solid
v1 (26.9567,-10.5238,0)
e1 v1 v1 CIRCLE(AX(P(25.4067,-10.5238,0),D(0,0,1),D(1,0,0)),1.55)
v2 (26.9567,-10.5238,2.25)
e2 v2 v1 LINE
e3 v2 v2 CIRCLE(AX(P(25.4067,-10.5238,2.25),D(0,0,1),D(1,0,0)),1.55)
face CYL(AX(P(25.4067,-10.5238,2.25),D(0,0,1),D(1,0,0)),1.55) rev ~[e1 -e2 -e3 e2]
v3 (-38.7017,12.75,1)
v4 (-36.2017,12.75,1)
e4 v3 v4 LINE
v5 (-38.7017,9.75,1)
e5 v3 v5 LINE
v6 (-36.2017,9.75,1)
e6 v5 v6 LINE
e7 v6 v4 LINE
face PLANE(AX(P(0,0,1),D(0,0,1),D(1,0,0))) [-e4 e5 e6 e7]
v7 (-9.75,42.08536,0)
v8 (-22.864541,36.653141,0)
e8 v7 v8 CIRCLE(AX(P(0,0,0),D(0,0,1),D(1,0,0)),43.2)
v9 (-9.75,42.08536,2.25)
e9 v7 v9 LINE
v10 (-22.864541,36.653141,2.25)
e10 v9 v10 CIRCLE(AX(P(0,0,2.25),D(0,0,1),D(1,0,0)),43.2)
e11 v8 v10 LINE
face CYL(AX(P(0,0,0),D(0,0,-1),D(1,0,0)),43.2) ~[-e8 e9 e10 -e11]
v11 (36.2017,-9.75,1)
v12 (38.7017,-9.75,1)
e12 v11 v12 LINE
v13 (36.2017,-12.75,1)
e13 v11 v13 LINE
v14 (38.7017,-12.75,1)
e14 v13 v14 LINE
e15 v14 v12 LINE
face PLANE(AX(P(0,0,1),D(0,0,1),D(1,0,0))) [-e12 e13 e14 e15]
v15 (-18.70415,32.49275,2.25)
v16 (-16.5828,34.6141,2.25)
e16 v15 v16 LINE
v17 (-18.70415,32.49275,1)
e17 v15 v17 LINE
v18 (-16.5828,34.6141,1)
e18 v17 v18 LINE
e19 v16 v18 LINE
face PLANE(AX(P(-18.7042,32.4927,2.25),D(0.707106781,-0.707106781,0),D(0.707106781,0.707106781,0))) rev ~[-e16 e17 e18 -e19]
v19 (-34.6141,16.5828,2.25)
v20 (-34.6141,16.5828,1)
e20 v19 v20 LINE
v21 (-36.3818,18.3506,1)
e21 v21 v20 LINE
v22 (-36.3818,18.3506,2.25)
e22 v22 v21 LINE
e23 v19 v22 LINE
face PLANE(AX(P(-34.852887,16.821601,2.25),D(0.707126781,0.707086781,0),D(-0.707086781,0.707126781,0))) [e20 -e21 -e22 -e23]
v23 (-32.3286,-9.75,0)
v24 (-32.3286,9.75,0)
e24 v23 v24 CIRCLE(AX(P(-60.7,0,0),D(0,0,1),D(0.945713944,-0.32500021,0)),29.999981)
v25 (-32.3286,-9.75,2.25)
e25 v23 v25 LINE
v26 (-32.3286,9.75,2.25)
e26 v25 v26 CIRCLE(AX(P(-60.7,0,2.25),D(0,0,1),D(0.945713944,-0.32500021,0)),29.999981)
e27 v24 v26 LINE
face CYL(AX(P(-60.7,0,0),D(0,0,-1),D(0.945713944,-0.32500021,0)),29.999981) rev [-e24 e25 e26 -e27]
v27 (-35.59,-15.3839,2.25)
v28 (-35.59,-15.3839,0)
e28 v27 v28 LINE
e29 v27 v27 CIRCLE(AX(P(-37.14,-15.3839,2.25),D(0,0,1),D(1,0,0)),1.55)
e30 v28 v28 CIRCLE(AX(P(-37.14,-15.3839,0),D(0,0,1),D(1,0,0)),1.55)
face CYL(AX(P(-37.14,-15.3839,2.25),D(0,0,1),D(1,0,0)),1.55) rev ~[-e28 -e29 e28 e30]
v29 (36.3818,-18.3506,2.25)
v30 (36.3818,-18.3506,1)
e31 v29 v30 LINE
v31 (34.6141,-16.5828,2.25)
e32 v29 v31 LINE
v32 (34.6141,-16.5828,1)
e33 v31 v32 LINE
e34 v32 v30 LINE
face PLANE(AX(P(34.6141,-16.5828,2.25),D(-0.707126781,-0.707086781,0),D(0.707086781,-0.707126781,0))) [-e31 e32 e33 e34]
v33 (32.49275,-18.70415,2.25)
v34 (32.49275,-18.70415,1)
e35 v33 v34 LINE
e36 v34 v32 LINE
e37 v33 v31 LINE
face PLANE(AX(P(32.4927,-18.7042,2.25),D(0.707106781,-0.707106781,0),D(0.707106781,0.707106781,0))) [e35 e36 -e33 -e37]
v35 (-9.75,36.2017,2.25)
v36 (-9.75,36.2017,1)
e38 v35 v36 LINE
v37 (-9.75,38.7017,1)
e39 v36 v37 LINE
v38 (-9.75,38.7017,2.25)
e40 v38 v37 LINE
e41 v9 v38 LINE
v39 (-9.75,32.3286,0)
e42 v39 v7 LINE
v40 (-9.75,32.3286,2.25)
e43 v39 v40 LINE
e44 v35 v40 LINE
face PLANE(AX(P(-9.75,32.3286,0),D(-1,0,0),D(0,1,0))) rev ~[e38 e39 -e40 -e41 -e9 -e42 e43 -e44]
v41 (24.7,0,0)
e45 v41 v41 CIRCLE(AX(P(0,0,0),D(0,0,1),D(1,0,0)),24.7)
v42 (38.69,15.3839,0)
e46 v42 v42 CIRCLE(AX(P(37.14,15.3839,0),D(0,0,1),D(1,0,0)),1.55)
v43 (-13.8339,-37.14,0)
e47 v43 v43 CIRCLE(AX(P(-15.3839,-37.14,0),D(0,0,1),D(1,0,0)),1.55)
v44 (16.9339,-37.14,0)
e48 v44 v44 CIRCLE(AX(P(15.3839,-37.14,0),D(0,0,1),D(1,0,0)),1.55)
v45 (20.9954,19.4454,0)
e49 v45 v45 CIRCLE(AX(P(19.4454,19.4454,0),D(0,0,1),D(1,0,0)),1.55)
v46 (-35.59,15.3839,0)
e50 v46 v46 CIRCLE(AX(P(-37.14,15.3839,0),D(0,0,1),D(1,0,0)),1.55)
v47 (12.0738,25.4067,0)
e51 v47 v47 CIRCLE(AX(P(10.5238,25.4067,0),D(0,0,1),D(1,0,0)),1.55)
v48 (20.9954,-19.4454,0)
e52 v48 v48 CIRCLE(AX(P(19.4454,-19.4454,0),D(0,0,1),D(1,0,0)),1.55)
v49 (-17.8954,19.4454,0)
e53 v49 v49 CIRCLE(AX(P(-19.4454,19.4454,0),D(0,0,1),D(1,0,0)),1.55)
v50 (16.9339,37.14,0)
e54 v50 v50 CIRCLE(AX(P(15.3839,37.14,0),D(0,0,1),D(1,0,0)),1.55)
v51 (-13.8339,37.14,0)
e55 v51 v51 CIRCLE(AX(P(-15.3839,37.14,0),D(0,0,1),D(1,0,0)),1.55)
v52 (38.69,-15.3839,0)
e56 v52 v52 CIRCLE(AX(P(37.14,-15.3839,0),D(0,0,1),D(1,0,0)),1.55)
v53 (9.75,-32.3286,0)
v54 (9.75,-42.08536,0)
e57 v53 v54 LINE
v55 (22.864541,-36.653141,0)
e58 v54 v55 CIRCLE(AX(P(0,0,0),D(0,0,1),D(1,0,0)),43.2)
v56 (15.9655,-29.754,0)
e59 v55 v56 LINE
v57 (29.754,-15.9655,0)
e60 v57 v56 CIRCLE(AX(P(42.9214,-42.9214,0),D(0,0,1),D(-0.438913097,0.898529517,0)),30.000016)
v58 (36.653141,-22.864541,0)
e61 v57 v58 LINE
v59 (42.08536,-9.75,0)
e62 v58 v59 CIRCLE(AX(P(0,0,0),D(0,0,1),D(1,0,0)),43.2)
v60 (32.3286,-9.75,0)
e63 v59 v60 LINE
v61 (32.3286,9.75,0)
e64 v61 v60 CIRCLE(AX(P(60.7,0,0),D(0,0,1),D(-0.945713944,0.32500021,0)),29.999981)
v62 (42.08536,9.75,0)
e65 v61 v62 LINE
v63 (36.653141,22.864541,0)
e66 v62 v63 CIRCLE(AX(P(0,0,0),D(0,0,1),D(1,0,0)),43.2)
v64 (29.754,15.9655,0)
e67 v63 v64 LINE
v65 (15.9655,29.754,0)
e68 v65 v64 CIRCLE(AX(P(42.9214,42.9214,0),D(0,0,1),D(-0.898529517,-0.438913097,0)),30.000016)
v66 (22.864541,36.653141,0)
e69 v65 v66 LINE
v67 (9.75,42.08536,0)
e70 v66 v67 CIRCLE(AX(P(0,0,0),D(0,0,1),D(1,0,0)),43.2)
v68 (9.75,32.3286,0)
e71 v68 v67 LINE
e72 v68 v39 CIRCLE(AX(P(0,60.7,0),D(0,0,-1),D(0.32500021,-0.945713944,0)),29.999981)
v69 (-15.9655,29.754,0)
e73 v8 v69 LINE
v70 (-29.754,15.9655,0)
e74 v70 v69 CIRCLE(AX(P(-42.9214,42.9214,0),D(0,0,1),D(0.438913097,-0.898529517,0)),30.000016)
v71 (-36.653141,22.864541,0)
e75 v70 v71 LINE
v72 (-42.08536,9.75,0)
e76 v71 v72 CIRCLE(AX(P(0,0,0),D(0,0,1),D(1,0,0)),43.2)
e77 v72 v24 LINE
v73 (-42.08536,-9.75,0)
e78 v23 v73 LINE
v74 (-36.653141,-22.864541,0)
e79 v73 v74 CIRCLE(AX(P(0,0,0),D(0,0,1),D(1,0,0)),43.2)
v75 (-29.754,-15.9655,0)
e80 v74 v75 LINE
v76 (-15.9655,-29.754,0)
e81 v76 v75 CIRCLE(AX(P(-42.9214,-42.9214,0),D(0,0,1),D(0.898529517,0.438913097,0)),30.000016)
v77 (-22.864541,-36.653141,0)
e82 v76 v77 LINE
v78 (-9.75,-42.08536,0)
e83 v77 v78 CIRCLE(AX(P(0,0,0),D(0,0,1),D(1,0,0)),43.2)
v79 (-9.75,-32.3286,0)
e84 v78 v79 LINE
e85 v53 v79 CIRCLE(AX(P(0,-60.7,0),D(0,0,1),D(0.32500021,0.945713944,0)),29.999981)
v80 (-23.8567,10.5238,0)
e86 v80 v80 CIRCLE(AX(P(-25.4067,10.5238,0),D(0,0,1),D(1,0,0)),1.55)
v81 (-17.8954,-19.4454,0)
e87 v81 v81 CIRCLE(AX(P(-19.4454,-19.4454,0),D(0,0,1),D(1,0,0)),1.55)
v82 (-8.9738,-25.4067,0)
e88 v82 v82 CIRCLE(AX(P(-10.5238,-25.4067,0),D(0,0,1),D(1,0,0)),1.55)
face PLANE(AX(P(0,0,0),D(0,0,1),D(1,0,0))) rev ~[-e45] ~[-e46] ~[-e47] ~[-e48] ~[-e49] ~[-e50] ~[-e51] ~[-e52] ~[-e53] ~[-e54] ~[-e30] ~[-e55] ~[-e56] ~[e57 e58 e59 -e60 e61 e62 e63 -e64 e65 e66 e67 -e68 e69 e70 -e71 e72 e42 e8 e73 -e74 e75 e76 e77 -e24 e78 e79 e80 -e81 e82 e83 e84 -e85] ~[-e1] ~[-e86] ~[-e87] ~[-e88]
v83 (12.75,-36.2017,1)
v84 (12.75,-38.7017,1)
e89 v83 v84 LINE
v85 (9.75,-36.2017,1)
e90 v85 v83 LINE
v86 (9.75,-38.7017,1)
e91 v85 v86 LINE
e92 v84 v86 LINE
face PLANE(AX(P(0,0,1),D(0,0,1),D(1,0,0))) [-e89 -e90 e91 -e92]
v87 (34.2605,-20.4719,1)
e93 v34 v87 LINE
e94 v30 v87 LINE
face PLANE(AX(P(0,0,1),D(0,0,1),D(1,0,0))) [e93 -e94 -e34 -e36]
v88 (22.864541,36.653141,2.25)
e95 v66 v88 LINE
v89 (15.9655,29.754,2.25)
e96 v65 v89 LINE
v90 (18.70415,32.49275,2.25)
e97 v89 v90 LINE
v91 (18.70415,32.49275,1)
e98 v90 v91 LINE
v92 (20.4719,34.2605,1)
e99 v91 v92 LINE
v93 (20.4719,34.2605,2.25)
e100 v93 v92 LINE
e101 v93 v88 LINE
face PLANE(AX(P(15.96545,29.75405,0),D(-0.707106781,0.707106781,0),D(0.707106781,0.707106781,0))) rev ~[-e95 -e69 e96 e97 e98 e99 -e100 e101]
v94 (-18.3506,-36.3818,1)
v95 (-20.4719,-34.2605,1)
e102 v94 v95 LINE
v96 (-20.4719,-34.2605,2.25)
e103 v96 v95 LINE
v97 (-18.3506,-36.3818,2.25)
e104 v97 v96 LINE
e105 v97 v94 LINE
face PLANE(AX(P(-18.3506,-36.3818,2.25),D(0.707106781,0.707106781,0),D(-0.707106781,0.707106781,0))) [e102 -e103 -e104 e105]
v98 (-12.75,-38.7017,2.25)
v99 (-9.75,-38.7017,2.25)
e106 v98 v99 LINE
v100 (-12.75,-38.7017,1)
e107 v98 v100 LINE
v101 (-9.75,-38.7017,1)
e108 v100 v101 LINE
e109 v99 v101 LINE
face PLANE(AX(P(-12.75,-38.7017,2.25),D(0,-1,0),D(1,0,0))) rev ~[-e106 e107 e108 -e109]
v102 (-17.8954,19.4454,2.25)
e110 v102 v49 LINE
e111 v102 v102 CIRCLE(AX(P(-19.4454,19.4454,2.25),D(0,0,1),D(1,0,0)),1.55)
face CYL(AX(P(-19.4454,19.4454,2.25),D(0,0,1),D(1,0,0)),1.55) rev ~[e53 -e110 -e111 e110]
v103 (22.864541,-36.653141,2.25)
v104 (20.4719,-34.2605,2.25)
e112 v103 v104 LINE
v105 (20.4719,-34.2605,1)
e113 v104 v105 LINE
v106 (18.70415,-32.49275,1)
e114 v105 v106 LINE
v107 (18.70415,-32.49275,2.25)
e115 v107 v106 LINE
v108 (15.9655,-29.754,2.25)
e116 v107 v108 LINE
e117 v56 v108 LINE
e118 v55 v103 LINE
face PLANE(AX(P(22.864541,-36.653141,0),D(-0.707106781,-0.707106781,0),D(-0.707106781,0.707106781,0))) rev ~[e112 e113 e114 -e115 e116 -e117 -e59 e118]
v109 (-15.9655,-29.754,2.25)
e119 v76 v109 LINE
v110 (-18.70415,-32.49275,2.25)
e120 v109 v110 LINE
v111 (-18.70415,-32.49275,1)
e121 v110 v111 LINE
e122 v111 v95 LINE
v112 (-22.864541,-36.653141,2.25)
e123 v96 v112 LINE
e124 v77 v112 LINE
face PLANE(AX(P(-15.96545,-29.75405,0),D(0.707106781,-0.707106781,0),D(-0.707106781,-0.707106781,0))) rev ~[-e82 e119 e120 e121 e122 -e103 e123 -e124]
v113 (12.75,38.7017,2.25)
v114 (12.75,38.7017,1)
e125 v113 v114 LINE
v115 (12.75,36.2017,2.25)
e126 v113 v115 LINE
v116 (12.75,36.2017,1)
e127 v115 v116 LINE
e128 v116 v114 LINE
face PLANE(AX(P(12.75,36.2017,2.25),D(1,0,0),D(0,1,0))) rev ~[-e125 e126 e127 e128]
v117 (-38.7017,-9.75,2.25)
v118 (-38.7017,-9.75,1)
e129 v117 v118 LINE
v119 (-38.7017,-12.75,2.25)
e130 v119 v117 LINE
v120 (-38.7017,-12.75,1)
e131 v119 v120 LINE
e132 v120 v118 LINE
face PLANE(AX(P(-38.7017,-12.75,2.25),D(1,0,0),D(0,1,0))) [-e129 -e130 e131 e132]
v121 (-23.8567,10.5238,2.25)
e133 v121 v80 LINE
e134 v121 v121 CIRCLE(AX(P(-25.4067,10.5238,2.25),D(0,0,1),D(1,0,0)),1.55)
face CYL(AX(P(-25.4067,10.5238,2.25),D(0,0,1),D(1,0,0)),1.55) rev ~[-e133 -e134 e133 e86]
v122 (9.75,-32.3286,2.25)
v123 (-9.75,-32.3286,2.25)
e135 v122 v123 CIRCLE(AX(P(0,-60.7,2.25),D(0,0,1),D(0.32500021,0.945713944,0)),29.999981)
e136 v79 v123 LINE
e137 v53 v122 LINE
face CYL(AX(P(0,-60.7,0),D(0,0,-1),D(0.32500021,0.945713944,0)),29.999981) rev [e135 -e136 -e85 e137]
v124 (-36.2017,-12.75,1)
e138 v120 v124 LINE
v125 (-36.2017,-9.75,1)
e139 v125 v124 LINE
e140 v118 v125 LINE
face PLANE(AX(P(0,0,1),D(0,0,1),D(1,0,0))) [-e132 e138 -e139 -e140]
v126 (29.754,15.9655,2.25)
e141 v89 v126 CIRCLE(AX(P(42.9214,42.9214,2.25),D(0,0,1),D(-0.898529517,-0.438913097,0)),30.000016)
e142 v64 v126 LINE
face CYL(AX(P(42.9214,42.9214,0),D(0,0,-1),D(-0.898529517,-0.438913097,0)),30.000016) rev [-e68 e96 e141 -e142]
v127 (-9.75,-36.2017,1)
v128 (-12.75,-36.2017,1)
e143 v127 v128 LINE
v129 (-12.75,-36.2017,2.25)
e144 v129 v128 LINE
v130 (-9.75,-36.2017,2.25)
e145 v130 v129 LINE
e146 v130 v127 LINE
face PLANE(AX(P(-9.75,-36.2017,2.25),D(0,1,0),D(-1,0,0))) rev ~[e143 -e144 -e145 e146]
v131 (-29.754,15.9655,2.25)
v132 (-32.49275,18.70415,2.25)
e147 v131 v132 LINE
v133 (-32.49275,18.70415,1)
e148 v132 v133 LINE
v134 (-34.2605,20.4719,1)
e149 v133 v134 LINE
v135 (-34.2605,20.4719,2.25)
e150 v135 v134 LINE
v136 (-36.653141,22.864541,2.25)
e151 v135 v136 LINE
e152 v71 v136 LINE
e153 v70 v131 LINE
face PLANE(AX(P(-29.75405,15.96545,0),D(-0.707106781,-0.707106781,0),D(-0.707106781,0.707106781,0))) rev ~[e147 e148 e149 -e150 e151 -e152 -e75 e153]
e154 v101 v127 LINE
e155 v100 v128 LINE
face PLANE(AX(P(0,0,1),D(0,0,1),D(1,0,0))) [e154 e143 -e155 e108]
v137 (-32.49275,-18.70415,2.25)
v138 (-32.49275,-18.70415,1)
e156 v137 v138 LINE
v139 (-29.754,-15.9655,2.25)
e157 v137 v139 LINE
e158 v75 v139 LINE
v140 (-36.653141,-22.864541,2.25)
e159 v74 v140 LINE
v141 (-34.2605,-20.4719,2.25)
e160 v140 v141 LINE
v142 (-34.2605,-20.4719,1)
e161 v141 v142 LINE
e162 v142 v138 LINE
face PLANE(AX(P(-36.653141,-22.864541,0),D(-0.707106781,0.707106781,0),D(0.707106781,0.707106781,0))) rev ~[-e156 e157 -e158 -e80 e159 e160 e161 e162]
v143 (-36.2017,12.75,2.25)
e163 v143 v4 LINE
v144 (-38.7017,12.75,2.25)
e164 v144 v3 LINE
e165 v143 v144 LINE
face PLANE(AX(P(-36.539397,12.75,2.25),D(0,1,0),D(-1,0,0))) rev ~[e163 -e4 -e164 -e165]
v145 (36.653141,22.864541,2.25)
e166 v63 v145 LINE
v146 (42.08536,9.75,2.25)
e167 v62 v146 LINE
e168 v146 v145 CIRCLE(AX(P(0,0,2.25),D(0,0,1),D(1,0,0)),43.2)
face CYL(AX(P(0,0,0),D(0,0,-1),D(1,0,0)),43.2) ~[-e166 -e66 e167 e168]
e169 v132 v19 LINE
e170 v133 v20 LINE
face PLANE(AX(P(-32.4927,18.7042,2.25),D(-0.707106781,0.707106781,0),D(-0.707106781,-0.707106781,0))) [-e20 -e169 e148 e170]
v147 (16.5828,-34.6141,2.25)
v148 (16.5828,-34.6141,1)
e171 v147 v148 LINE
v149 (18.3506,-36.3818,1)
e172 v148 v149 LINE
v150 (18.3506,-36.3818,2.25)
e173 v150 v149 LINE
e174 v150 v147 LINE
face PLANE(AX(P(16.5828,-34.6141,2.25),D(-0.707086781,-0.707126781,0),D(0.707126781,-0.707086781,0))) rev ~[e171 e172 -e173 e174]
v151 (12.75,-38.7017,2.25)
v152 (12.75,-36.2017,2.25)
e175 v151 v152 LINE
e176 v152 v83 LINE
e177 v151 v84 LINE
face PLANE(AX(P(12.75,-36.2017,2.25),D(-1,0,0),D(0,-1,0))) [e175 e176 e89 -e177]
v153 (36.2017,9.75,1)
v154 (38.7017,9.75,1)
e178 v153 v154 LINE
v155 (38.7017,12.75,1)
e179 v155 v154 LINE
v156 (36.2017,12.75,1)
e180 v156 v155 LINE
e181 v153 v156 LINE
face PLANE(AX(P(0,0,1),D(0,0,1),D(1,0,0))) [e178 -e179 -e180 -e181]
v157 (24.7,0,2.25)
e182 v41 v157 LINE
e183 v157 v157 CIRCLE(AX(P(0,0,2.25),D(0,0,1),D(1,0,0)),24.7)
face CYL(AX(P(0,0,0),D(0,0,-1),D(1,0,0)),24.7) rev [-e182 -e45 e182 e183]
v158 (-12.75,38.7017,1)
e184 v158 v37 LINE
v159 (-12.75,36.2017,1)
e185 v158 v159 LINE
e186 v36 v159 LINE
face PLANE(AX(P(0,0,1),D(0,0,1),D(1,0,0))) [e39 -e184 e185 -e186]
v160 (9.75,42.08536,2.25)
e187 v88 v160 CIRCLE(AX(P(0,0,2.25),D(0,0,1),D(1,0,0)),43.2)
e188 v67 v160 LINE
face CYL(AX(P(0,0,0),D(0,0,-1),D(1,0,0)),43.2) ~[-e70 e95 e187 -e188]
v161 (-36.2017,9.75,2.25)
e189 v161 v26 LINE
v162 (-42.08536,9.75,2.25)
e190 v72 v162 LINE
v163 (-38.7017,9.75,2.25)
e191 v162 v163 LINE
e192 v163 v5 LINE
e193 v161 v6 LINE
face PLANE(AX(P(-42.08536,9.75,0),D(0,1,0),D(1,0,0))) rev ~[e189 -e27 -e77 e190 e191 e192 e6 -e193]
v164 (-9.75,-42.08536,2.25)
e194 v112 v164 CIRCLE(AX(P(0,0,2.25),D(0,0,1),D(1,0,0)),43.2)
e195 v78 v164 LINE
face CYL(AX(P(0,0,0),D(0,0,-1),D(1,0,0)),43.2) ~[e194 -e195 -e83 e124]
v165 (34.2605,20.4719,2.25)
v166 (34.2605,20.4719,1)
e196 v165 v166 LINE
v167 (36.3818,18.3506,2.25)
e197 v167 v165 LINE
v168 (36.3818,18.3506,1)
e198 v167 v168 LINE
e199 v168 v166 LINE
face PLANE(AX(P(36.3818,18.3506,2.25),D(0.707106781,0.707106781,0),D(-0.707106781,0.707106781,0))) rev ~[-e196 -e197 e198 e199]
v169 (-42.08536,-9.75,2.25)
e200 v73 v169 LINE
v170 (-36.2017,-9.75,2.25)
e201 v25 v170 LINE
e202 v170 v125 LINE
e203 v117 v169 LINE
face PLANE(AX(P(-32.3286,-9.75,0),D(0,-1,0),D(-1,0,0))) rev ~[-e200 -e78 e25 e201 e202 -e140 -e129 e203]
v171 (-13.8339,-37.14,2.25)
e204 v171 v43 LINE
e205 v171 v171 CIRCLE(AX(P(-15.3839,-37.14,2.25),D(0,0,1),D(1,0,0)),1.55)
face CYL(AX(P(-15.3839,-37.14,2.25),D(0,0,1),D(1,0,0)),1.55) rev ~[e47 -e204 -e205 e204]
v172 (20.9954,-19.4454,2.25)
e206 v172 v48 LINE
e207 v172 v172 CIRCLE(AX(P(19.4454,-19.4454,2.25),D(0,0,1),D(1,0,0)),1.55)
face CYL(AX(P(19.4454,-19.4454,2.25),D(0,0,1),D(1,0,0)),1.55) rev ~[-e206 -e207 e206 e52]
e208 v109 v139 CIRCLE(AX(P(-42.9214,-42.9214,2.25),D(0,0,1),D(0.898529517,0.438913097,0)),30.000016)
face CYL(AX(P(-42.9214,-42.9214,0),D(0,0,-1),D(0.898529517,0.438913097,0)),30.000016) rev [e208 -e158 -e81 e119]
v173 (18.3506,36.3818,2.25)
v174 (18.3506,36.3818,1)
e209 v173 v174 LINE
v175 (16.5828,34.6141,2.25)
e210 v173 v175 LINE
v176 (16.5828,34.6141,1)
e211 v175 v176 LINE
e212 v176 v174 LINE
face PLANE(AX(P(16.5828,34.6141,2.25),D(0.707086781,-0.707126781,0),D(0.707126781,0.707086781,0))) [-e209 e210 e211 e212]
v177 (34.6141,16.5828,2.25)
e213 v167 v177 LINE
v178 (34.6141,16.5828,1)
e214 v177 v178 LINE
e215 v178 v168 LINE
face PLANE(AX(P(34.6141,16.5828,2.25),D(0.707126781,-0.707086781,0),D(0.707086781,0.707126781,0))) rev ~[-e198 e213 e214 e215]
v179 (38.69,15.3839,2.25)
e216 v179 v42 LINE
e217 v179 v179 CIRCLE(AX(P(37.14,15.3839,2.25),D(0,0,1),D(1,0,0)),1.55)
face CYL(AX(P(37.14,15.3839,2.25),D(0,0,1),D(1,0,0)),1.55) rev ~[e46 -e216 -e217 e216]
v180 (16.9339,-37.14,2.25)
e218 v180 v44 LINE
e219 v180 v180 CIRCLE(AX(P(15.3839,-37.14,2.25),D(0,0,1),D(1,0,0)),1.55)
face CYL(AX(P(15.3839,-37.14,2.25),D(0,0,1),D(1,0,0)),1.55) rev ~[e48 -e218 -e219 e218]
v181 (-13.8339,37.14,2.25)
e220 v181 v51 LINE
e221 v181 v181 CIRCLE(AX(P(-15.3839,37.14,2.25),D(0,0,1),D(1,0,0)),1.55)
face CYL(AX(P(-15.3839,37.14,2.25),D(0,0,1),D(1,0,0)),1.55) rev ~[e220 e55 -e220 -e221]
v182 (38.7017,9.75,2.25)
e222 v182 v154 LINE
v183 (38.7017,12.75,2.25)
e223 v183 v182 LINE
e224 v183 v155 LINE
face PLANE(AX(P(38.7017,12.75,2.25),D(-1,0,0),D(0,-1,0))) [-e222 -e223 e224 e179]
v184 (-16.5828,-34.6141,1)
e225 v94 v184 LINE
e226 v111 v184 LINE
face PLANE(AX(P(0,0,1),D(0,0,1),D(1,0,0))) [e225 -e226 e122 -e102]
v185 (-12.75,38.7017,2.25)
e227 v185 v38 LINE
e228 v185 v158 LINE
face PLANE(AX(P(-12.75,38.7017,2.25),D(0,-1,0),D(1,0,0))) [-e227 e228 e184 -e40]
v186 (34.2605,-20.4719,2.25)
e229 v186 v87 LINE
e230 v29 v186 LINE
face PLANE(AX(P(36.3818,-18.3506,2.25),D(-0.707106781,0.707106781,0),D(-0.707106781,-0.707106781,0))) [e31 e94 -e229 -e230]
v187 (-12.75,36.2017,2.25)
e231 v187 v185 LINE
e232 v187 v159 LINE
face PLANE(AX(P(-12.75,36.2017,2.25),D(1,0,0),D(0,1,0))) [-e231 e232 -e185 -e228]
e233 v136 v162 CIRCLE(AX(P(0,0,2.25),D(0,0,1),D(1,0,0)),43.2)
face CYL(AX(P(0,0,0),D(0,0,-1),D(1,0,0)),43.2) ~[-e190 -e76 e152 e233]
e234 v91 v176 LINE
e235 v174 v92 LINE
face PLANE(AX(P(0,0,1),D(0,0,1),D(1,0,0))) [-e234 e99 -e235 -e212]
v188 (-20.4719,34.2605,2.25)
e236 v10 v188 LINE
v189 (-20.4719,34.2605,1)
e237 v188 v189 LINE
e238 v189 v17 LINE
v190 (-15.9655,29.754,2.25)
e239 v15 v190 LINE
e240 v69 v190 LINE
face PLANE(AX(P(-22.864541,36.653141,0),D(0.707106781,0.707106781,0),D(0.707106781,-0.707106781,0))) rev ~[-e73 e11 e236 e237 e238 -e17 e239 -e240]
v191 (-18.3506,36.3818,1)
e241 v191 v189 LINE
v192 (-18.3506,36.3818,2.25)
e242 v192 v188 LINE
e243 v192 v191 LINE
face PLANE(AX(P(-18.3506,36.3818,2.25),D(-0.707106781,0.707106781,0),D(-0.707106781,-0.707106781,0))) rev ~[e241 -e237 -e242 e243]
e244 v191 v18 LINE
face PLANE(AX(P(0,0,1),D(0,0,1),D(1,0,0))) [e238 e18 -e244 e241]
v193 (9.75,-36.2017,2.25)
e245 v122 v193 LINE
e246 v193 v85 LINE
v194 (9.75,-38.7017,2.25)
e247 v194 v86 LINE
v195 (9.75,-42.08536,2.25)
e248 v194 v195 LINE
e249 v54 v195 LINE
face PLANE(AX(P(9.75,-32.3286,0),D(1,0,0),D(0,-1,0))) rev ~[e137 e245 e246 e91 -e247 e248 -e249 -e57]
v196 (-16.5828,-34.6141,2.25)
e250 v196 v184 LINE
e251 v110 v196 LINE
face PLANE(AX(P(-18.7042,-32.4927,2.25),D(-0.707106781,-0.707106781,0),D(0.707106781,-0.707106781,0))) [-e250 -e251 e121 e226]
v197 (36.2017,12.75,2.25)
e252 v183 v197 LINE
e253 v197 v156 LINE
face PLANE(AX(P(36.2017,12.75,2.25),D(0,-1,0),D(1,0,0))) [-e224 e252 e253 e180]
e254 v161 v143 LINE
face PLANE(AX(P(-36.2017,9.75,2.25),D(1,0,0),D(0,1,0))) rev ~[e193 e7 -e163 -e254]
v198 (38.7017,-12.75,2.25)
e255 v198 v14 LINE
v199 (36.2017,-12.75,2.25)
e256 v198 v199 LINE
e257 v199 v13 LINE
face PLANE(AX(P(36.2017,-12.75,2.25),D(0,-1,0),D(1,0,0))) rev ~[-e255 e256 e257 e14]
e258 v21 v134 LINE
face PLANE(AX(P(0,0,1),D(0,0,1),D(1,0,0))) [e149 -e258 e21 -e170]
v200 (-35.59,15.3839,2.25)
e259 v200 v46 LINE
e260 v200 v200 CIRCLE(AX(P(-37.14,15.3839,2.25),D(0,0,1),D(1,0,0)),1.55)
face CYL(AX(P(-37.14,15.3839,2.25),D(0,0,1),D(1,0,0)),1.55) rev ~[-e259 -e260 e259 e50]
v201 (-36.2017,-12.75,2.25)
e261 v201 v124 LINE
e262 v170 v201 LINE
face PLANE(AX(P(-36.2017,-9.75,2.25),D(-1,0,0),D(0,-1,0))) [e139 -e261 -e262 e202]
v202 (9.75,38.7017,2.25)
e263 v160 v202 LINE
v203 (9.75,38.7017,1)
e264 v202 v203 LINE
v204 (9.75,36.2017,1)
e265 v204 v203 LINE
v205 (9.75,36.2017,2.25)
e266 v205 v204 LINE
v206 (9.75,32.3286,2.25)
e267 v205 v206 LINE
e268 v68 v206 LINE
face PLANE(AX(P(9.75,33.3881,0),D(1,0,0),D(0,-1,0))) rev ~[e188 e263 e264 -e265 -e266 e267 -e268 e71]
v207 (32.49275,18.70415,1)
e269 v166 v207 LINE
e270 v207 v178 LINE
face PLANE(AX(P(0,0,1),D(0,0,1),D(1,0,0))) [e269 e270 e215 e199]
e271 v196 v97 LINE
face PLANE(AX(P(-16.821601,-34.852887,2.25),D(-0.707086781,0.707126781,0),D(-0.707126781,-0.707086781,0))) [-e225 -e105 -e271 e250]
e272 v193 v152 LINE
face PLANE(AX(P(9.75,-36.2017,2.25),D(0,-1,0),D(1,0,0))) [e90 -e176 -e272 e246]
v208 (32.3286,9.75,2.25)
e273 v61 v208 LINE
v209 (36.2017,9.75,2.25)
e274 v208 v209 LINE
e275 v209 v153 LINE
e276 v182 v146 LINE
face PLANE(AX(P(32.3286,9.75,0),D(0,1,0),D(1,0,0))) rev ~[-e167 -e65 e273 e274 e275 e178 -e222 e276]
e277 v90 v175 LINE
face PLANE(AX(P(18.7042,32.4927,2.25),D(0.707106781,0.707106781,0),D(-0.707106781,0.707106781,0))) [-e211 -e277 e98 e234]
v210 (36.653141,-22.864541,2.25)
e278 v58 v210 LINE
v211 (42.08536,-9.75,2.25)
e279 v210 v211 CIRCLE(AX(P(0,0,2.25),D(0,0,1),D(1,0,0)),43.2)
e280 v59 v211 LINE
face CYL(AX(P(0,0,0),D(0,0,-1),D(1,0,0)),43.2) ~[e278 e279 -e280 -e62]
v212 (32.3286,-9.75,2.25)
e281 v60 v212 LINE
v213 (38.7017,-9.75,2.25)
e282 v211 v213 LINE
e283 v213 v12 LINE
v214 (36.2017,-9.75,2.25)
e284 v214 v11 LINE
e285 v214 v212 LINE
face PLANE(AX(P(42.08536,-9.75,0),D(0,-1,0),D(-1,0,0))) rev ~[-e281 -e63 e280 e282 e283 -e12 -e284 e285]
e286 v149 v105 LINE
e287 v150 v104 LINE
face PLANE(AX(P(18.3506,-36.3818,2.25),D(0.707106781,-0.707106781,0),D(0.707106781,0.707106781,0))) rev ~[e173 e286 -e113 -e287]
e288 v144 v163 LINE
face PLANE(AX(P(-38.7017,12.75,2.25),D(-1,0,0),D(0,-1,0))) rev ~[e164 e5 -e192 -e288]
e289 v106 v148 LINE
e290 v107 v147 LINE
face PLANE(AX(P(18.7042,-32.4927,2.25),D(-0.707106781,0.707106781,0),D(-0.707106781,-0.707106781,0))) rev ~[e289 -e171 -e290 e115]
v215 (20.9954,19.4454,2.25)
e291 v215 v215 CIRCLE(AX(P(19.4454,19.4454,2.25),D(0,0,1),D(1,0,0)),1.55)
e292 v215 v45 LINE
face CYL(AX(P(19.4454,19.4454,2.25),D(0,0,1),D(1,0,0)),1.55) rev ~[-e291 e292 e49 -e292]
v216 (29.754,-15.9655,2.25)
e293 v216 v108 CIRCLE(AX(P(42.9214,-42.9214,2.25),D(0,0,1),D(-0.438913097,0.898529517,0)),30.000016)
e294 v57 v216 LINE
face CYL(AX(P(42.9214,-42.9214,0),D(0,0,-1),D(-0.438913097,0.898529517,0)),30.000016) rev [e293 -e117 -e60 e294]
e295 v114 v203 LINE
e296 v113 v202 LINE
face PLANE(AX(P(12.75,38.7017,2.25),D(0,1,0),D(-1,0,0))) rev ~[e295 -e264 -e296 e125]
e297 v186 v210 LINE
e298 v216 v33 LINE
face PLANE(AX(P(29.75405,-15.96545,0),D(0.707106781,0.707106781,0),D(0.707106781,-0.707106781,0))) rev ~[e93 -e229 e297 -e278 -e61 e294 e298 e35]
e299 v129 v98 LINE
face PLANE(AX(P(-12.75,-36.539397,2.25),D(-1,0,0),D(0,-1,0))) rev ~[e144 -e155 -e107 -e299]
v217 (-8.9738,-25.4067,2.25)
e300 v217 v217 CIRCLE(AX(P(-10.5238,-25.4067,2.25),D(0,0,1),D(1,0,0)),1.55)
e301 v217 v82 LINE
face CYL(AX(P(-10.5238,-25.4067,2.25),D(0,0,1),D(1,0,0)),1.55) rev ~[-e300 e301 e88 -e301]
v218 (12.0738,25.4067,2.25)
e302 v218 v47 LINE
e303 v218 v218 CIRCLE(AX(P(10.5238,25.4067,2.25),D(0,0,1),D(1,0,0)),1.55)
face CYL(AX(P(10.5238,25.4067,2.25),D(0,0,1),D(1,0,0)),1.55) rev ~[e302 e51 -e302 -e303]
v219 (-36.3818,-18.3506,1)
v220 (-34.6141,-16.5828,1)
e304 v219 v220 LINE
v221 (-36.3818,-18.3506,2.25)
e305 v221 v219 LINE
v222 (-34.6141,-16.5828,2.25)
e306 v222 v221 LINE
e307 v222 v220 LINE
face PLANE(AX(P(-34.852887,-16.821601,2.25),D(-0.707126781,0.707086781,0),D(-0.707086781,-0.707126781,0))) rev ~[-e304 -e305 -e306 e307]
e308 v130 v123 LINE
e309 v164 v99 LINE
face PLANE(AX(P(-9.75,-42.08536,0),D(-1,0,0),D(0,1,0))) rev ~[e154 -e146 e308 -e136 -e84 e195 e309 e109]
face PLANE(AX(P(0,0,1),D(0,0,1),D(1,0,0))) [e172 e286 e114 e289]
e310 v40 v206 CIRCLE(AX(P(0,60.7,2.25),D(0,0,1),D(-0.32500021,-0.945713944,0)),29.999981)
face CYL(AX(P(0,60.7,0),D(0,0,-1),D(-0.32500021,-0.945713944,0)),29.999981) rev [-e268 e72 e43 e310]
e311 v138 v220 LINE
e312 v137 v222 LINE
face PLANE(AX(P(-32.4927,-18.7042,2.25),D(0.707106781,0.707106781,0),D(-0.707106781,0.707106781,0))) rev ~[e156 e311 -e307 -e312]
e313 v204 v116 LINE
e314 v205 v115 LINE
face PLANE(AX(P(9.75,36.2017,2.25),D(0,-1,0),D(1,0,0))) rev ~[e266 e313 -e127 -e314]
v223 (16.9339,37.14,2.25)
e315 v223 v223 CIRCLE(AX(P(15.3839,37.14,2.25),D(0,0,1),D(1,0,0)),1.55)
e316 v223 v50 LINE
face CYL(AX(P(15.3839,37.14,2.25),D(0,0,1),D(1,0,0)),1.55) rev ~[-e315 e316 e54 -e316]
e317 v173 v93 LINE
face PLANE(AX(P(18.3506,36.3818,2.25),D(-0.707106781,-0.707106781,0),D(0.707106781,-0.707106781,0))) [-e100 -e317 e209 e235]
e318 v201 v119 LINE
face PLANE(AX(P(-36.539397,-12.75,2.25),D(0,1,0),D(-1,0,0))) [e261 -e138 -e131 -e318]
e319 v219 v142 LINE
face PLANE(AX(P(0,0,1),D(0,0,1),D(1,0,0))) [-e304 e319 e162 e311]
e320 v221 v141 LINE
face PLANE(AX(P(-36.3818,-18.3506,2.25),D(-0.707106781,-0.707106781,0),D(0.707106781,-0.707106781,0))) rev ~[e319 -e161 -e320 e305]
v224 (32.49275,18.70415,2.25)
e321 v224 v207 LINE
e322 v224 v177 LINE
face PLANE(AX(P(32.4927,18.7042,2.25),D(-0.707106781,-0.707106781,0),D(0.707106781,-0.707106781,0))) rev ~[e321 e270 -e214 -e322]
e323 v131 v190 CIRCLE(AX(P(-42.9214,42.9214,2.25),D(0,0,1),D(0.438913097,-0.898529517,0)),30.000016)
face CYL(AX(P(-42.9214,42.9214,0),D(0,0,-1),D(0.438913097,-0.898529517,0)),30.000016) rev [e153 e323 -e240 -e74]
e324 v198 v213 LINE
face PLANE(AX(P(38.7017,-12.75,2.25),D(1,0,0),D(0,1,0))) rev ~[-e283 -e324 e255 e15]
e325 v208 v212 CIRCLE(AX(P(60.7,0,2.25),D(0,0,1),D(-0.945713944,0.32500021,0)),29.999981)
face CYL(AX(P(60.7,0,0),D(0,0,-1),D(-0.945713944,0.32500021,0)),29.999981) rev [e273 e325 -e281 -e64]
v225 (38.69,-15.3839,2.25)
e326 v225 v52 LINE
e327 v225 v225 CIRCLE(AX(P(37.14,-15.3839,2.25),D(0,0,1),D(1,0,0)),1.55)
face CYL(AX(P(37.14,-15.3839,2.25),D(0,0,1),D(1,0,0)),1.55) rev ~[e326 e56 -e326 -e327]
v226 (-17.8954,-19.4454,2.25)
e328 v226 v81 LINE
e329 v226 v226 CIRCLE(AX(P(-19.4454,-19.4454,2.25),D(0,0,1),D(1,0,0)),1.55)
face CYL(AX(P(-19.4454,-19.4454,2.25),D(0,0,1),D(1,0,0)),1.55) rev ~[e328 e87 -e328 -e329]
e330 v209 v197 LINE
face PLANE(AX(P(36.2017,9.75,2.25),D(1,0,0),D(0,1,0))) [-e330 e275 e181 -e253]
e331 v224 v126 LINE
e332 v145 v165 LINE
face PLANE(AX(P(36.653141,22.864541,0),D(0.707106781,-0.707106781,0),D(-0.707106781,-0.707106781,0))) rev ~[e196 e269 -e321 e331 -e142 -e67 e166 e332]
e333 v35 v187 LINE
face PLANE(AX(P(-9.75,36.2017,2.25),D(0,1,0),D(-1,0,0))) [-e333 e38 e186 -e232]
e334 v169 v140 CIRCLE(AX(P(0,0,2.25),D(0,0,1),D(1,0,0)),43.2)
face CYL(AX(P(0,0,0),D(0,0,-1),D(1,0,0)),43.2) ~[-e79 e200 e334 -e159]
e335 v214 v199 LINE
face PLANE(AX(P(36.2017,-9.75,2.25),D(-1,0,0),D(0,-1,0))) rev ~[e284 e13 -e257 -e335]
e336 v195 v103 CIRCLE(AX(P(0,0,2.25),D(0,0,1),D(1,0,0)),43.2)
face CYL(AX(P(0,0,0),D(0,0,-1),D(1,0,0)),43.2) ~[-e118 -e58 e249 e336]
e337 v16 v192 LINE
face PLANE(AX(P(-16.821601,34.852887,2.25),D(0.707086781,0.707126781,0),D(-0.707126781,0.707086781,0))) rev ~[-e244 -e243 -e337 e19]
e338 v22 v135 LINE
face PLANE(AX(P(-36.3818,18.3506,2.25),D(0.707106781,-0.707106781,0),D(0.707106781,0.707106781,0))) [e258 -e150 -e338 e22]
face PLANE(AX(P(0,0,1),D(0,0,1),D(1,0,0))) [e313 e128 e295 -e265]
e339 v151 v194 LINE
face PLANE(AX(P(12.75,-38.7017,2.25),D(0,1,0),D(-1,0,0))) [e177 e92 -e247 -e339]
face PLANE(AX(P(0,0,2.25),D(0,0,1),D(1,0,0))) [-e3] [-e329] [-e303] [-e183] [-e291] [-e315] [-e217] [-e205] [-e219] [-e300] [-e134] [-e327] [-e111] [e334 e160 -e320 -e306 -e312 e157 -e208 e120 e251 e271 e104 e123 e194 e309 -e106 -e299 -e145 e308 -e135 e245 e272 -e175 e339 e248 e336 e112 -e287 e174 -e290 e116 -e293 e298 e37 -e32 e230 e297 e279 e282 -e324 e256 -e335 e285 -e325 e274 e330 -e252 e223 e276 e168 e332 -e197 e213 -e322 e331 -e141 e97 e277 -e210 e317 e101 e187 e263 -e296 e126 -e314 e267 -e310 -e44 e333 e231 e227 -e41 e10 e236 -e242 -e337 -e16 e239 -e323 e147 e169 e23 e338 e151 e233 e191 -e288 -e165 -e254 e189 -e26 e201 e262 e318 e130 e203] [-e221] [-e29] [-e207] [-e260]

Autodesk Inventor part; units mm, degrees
ref_plane "YZ Plane" through (0, 0, 0) normal (1, 0, 0) x (0, 1, 0)
ref_plane "XZ Plane" through (0, 0, 0) normal (0, 1, 0) x (-1, 0, 0)
ref_plane "XY Plane" through (0, 0, 0) normal (0, 0, 1) x (1, 0, 0)
sketch "スケッチ1" plane through (0, 0, 0) normal (0, 0, 1) x (1, 0, 0)
  arc A0 (-9.75, 33.3881) -> (9.75, 33.3881) centre (0, 60.7) ccw
  arc A1 (-9.75, 32.3286) -> (9.75, 32.3286) centre (0, 60.7) ccw
  line L0 (-9.75, 57.7) -> (9.75, 57.7)
  line L1 (9.75, 57.7) -> (9.75, 30.7)
  line L2 (9.75, 30.7) -> (-9.75, 30.7)
  line L3 (-9.75, 30.7) -> (-9.75, 57.7)
  line L4 (-9.75, 44.7) -> (9.75, 44.7)
  circle A2 centre (0, 0) radius 23.7 construction
  circle A3 centre (0, 0) radius 24.7
  circle A4 centre (0, 0) radius 30.7 construction
  circle A5 centre (0, 0) radius 44.7
  line L5 (-28.6025, 14.8139) -> (-47.6944, 33.9058)
  arc A6 (-29.754, 15.9655) -> (-15.9655, 29.754) centre (-42.9214, 42.9214) ccw
  line L6 (-33.9058, 47.6944) -> (-14.8139, 28.6025)
  line L7 (-30.7, -9.75) -> (-57.7, -9.75)
  arc A7 (-32.3286, -9.75) -> (-32.3286, 9.75) centre (-60.7, 0) ccw
  line L8 (-57.7, 9.75) -> (-30.7, 9.75)
  line L9 (-14.8139, -28.6025) -> (-33.9058, -47.6944)
  arc A8 (-15.9655, -29.754) -> (-29.754, -15.9655) centre (-42.9214, -42.9214) ccw
  line L10 (-47.6944, -33.9058) -> (-28.6025, -14.8139)
  line L11 (9.75, -30.7) -> (9.75, -57.7)
  arc A9 (9.75, -32.3286) -> (-9.75, -32.3286) centre (0, -60.7) ccw
  line L12 (-9.75, -57.7) -> (-9.75, -30.7)
  line L13 (28.6025, -14.8139) -> (47.6944, -33.9058)
  arc A10 (29.754, -15.9655) -> (15.9655, -29.754) centre (42.9214, -42.9214) ccw
  line L14 (33.9058, -47.6944) -> (14.8139, -28.6025)
  line L15 (30.7, 9.75) -> (57.7, 9.75)
  arc A11 (32.3286, 9.75) -> (32.3286, -9.75) centre (60.7, 0) ccw
  line L16 (57.7, -9.75) -> (30.7, -9.75)
  line L17 (14.8139, 28.6025) -> (33.9058, 47.6944)
  arc A12 (15.9655, 29.754) -> (29.754, 15.9655) centre (42.9214, 42.9214) ccw
  line L18 (47.6944, 33.9058) -> (28.6025, 14.8139)
  circle A13 centre (0, 0) radius 43.2
  point P0 (0, 57.7)
  point P1 (-30.5033, 16.7147)
  point P2 (-24.7134, 38.502)
  point P3 (-16.7147, 30.5033)
  point P4 (-33.3881, -9.75)
  point P5 (-44.7, 9.75)
  point P6 (-33.3881, 9.75)
  point P7 (-16.7147, -30.5033)
  point P8 (-38.502, -24.7134)
  point P9 (-30.5033, -16.7147)
  point P10 (9.75, -33.3881)
  point P11 (-9.75, -44.7)
  point P12 (-9.75, -33.3881)
  point P13 (30.5033, -16.7147)
  point P14 (24.7134, -38.502)
  point P15 (16.7147, -30.5033)
  point P16 (33.3881, 9.75)
  point P17 (44.7, -9.75)
  point P18 (33.3881, -9.75)
  point P19 (16.7147, 30.5033)
  point P20 (38.502, 24.7134)
  point P21 (30.5033, 16.7147)
  point P22 (36.6531, -22.8646)
  point P23 (42.0854, -9.75)
  point P24 (42.0854, 9.75)
  point P25 (36.6531, 22.8646)
  point P26 (22.8646, 36.6531)
  point P27 (9.75, 42.0854)
  point P28 (-9.75, 42.0854)
  point P29 (-22.8646, 36.6531)
  point P30 (-36.6531, 22.8646)
  point P31 (-42.0854, 9.75)
  point P32 (-42.0854, -9.75)
  point P33 (-36.6531, -22.8646)
  point P34 (-22.8646, -36.6531)
  point P35 (-9.75, -42.0854)
  point P36 (9.75, -42.0854)
  point P37 (22.8646, -36.6531)
  point P38 (0, 30.7)
  dimension "d2" = 14
  dimension "d3" = 13
  dimension "d4" = 19.5
  dimension "d7" = 47.4
  dimension "d8" = 1
  dimension "d9" = 29
  dimension "d10" = 1
  dimension "d13" = 6
  dimension "d16" = 360
  dimension "d18" = 1.5
  dimension "d108" = 14
  dimension "d109" = 6
extrude "押し出し1" add sketch "スケッチ1" along normal blind 2.25 contours L3 L2 L1 A13 L17 A12 L18 L15 A11 L16 L13 A10 L14 L11 A9 L12 L9 A8 L10 L7 A7 L8 L5 A6 L6 | A1 L2 L3 | L1 L2 A1
sketch "スケッチ2" plane through (0, 0, 2.25) normal (0, 0, 1) x (1, 0, 0)
  circle A0 centre (-15.3839, 37.14) radius 1.55
  line L0 (-15.3839, 37.14) -> (0, 0) construction
  line L1 (-9.75, 32.3286) -> (-9.75, 42.0854) projected
  line L2 (-22.8646, 36.6531) -> (-15.9655, 29.754) projected
  circle A1 centre (0, 0) radius 40.2 construction
  circle A2 centre (0, 0) radius 43.2 construction
  arc A3 (-9.75, 42.0854) -> (9.75, 42.0854) centre (0, 0) ccw projected
  circle A4 centre (-10.5238, 25.4067) radius 1.55
  line L3 (-10.5238, 25.4067) -> (-13.2002, 24.2981)
  circle A5 centre (0, 0) radius 24.7 projected
  circle A6 centre (-28.4257, 28.4257) radius 1.55
  circle A7 centre (-19.4454, 19.4454) radius 1.55
  circle A8 centre (-37.14, 15.3839) radius 1.55
  circle A9 centre (-25.4067, 10.5238) radius 1.55
  circle A10 centre (-40.2, 0) radius 1.55
  circle A11 centre (-27.5, 0) radius 1.55
  circle A12 centre (-37.14, -15.3839) radius 1.55
  circle A13 centre (-25.4067, -10.5238) radius 1.55
  circle A14 centre (-28.4257, -28.4257) radius 1.55
  circle A15 centre (-19.4454, -19.4454) radius 1.55
  circle A16 centre (-15.3839, -37.14) radius 1.55
  circle A17 centre (-10.5238, -25.4067) radius 1.55
  circle A18 centre (0, -40.2) radius 1.55
  circle A19 centre (0, -27.5) radius 1.55
  circle A20 centre (15.3839, -37.14) radius 1.55
  circle A21 centre (10.5238, -25.4067) radius 1.55
  circle A22 centre (28.4257, -28.4257) radius 1.55
  circle A23 centre (19.4454, -19.4454) radius 1.55
  circle A24 centre (37.14, -15.3839) radius 1.55
  circle A25 centre (25.4067, -10.5238) radius 1.55
  circle A26 centre (40.2, 0) radius 1.55
  circle A27 centre (27.5, 0) radius 1.55
  circle A28 centre (37.14, 15.3839) radius 1.55
  circle A29 centre (25.4067, 10.5238) radius 1.55
  circle A30 centre (28.4257, 28.4257) radius 1.55
  circle A31 centre (19.4454, 19.4454) radius 1.55
  circle A32 centre (15.3839, 37.14) radius 1.55
  circle A33 centre (10.5238, 25.4067) radius 1.55
  circle A34 centre (0, 40.2) radius 1.55
  circle A35 centre (0, 27.5) radius 1.55
  point P0 (-9.75, 57.7)
  point P1 (-9.75, 33.3881)
  dimension "d25" = 3
  dimension "d21" = 3.1
  dimension "d22" = 22.5
  dimension "d23" = 22.5
  dimension "d32" = 27.5
  dimension "d34" = 49.4
  dimension "d37" = 360
extrude "押し出し2" cut sketch "スケッチ2" against normal through all contours A0 | A7 | A8 | A9 | A12 | A15 | A16 | A17 | A20 | A23 | A24 | A25 | A28 | A31 | A32 | A33
sketch "スケッチ3" plane through (0, 0, 2.25) normal (0, 0, 1) x (1, 0, 0)
  line L0 (-9.75, 36.2017) -> (-12.75, 36.2017)
  line L1 (-12.75, 36.2017) -> (-12.75, 38.7017)
  line L2 (-12.75, 38.7017) -> (-9.75, 38.7017)
  line L3 (-9.75, 38.7017) -> (-9.75, 36.2017)
  line L4 (9.75, 36.2017) -> (12.75, 36.2017)
  line L5 (12.75, 36.2017) -> (12.75, 38.7017)
  line L6 (12.75, 38.7017) -> (9.75, 38.7017)
  line L7 (9.75, 38.7017) -> (9.75, 36.2017)
  line L8 (-32.4927, 18.7042) -> (-34.6141, 16.5828)
  line L9 (-34.6141, 16.5828) -> (-36.3818, 18.3506)
  line L10 (-36.3818, 18.3506) -> (-34.2605, 20.4719)
  line L11 (-34.2605, 20.4719) -> (-32.4927, 18.7042)
  line L12 (-20.4719, 34.2605) -> (-18.7042, 32.4927)
  line L13 (-18.7042, 32.4927) -> (-16.5828, 34.6141)
  line L14 (-16.5828, 34.6141) -> (-18.3506, 36.3818)
  line L15 (-18.3506, 36.3818) -> (-20.4719, 34.2605)
  line L16 (-36.2017, -9.75) -> (-36.2017, -12.75)
  line L17 (-36.2017, -12.75) -> (-38.7017, -12.75)
  line L18 (-38.7017, -12.75) -> (-38.7017, -9.75)
  line L19 (-38.7017, -9.75) -> (-36.2017, -9.75)
  line L20 (-38.7017, 9.75) -> (-36.2017, 9.75)
  line L21 (-36.2017, 9.75) -> (-36.2017, 12.75)
  line L22 (-36.2017, 12.75) -> (-38.7017, 12.75)
  line L23 (-38.7017, 12.75) -> (-38.7017, 9.75)
  line L24 (-18.7042, -32.4927) -> (-16.5828, -34.6141)
  line L25 (-16.5828, -34.6141) -> (-18.3506, -36.3818)
  line L26 (-18.3506, -36.3818) -> (-20.4719, -34.2605)
  line L27 (-20.4719, -34.2605) -> (-18.7042, -32.4927)
  line L28 (-34.2605, -20.4719) -> (-32.4927, -18.7042)
  line L29 (-32.4927, -18.7042) -> (-34.6141, -16.5828)
  line L30 (-34.6141, -16.5828) -> (-36.3818, -18.3506)
  line L31 (-36.3818, -18.3506) -> (-34.2605, -20.4719)
  line L32 (9.75, -36.2017) -> (12.75, -36.2017)
  line L33 (12.75, -36.2017) -> (12.75, -38.7017)
  line L34 (12.75, -38.7017) -> (9.75, -38.7017)
  line L35 (9.75, -38.7017) -> (9.75, -36.2017)
  line L36 (-9.75, -38.7017) -> (-9.75, -36.2017)
  line L37 (-9.75, -36.2017) -> (-12.75, -36.2017)
  line L38 (-12.75, -36.2017) -> (-12.75, -38.7017)
  line L39 (-12.75, -38.7017) -> (-9.75, -38.7017)
  line L40 (32.4927, -18.7042) -> (34.6141, -16.5828)
  line L41 (34.6141, -16.5828) -> (36.3818, -18.3506)
  line L42 (36.3818, -18.3506) -> (34.2605, -20.4719)
  line L43 (34.2605, -20.4719) -> (32.4927, -18.7042)
  line L44 (20.4719, -34.2605) -> (18.7042, -32.4927)
  line L45 (18.7042, -32.4927) -> (16.5828, -34.6141)
  line L46 (16.5828, -34.6141) -> (18.3506, -36.3818)
  line L47 (18.3506, -36.3818) -> (20.4719, -34.2605)
  line L48 (36.2017, 9.75) -> (36.2017, 12.75)
  line L49 (36.2017, 12.75) -> (38.7017, 12.75)
  line L50 (38.7017, 12.75) -> (38.7017, 9.75)
  line L51 (38.7017, 9.75) -> (36.2017, 9.75)
  line L52 (38.7017, -9.75) -> (36.2017, -9.75)
  line L53 (36.2017, -9.75) -> (36.2017, -12.75)
  line L54 (36.2017, -12.75) -> (38.7017, -12.75)
  line L55 (38.7017, -12.75) -> (38.7017, -9.75)
  line L56 (18.7042, 32.4927) -> (16.5828, 34.6141)
  line L57 (16.5828, 34.6141) -> (18.3506, 36.3818)
  line L58 (18.3506, 36.3818) -> (20.4719, 34.2605)
  line L59 (20.4719, 34.2605) -> (18.7042, 32.4927)
  line L60 (34.2605, 20.4719) -> (32.4927, 18.7042)
  line L61 (32.4927, 18.7042) -> (34.6141, 16.5828)
  line L62 (34.6141, 16.5828) -> (36.3818, 18.3506)
  line L63 (36.3818, 18.3506) -> (34.2605, 20.4719)
  line L64 (-9.75, 32.3286) -> (-9.75, 42.0854) projected
  line L65 (9.75, 42.0854) -> (9.75, 32.3286) projected
  circle A0 centre (-15.3839, 37.14) radius 1.55 projected
  circle A1 centre (0, 0) radius 38.7
  circle A2 centre (0, 0) radius 24.7 projected
  point P0 (-9.75, 37.4517)
  point P1 (-33.3766, 19.588)
  point P2 (-37.4517, -9.75)
  point P3 (-19.588, -33.3766)
  point P4 (9.75, -37.4517)
  point P5 (33.3766, -19.588)
  point P6 (37.4517, 9.75)
  point P7 (19.588, 33.3766)
  point P8 (-9.75, 33.3881)
  point P9 (9.75, 33.3881)
  point P10 (9.75, 37.4517)
  dimension "d40" = 2.5
  dimension "d45" = 360
  dimension "d105" = 3
  dimension "d107" = 14
extrude "押し出し3" cut sketch "スケッチ3" against normal blind 1.25 contours L0 L1 A1 L3 | A1 L1 L2 L3 | A1 L5 L4 L7 | L7 L6 L5 A1 | A1 L59 L56 L57 | L57 L58 L59 A1 | A1 L12 L15 L14 | L14 L13 L12 A1 | A1 L62 L61 L60 | L60 L63 L62 A1 | A1 L9 L10 L11 | L11 L8 L9 A1 | A1 L51 L48 L49 | L49 L50 L51 A1 | A1 L20 L23 L22 | L22 L21 L20 A1 | A1 L17 L18 L19 | L19 L16 L17 A1 | A1 L54 L53 L52 | L52 L55 L54 A1 | A1 L28 L31 L30 | L30 L29 L28 A1 | A1 L43 L40 L41 | L41 L42 L43 A1 | A1 L25 L26 L27 | L27 L24 L25 A1 | A1 L46 L45 L44 | L44 L47 L46 A1 | A1 L36 L39 L38 | L38 L37 L36 A1 | A1 L35 L32 L33 | L33 L34 L35 A1
equation "\"d22\" = d23"
properties part number "wheel_hone"
